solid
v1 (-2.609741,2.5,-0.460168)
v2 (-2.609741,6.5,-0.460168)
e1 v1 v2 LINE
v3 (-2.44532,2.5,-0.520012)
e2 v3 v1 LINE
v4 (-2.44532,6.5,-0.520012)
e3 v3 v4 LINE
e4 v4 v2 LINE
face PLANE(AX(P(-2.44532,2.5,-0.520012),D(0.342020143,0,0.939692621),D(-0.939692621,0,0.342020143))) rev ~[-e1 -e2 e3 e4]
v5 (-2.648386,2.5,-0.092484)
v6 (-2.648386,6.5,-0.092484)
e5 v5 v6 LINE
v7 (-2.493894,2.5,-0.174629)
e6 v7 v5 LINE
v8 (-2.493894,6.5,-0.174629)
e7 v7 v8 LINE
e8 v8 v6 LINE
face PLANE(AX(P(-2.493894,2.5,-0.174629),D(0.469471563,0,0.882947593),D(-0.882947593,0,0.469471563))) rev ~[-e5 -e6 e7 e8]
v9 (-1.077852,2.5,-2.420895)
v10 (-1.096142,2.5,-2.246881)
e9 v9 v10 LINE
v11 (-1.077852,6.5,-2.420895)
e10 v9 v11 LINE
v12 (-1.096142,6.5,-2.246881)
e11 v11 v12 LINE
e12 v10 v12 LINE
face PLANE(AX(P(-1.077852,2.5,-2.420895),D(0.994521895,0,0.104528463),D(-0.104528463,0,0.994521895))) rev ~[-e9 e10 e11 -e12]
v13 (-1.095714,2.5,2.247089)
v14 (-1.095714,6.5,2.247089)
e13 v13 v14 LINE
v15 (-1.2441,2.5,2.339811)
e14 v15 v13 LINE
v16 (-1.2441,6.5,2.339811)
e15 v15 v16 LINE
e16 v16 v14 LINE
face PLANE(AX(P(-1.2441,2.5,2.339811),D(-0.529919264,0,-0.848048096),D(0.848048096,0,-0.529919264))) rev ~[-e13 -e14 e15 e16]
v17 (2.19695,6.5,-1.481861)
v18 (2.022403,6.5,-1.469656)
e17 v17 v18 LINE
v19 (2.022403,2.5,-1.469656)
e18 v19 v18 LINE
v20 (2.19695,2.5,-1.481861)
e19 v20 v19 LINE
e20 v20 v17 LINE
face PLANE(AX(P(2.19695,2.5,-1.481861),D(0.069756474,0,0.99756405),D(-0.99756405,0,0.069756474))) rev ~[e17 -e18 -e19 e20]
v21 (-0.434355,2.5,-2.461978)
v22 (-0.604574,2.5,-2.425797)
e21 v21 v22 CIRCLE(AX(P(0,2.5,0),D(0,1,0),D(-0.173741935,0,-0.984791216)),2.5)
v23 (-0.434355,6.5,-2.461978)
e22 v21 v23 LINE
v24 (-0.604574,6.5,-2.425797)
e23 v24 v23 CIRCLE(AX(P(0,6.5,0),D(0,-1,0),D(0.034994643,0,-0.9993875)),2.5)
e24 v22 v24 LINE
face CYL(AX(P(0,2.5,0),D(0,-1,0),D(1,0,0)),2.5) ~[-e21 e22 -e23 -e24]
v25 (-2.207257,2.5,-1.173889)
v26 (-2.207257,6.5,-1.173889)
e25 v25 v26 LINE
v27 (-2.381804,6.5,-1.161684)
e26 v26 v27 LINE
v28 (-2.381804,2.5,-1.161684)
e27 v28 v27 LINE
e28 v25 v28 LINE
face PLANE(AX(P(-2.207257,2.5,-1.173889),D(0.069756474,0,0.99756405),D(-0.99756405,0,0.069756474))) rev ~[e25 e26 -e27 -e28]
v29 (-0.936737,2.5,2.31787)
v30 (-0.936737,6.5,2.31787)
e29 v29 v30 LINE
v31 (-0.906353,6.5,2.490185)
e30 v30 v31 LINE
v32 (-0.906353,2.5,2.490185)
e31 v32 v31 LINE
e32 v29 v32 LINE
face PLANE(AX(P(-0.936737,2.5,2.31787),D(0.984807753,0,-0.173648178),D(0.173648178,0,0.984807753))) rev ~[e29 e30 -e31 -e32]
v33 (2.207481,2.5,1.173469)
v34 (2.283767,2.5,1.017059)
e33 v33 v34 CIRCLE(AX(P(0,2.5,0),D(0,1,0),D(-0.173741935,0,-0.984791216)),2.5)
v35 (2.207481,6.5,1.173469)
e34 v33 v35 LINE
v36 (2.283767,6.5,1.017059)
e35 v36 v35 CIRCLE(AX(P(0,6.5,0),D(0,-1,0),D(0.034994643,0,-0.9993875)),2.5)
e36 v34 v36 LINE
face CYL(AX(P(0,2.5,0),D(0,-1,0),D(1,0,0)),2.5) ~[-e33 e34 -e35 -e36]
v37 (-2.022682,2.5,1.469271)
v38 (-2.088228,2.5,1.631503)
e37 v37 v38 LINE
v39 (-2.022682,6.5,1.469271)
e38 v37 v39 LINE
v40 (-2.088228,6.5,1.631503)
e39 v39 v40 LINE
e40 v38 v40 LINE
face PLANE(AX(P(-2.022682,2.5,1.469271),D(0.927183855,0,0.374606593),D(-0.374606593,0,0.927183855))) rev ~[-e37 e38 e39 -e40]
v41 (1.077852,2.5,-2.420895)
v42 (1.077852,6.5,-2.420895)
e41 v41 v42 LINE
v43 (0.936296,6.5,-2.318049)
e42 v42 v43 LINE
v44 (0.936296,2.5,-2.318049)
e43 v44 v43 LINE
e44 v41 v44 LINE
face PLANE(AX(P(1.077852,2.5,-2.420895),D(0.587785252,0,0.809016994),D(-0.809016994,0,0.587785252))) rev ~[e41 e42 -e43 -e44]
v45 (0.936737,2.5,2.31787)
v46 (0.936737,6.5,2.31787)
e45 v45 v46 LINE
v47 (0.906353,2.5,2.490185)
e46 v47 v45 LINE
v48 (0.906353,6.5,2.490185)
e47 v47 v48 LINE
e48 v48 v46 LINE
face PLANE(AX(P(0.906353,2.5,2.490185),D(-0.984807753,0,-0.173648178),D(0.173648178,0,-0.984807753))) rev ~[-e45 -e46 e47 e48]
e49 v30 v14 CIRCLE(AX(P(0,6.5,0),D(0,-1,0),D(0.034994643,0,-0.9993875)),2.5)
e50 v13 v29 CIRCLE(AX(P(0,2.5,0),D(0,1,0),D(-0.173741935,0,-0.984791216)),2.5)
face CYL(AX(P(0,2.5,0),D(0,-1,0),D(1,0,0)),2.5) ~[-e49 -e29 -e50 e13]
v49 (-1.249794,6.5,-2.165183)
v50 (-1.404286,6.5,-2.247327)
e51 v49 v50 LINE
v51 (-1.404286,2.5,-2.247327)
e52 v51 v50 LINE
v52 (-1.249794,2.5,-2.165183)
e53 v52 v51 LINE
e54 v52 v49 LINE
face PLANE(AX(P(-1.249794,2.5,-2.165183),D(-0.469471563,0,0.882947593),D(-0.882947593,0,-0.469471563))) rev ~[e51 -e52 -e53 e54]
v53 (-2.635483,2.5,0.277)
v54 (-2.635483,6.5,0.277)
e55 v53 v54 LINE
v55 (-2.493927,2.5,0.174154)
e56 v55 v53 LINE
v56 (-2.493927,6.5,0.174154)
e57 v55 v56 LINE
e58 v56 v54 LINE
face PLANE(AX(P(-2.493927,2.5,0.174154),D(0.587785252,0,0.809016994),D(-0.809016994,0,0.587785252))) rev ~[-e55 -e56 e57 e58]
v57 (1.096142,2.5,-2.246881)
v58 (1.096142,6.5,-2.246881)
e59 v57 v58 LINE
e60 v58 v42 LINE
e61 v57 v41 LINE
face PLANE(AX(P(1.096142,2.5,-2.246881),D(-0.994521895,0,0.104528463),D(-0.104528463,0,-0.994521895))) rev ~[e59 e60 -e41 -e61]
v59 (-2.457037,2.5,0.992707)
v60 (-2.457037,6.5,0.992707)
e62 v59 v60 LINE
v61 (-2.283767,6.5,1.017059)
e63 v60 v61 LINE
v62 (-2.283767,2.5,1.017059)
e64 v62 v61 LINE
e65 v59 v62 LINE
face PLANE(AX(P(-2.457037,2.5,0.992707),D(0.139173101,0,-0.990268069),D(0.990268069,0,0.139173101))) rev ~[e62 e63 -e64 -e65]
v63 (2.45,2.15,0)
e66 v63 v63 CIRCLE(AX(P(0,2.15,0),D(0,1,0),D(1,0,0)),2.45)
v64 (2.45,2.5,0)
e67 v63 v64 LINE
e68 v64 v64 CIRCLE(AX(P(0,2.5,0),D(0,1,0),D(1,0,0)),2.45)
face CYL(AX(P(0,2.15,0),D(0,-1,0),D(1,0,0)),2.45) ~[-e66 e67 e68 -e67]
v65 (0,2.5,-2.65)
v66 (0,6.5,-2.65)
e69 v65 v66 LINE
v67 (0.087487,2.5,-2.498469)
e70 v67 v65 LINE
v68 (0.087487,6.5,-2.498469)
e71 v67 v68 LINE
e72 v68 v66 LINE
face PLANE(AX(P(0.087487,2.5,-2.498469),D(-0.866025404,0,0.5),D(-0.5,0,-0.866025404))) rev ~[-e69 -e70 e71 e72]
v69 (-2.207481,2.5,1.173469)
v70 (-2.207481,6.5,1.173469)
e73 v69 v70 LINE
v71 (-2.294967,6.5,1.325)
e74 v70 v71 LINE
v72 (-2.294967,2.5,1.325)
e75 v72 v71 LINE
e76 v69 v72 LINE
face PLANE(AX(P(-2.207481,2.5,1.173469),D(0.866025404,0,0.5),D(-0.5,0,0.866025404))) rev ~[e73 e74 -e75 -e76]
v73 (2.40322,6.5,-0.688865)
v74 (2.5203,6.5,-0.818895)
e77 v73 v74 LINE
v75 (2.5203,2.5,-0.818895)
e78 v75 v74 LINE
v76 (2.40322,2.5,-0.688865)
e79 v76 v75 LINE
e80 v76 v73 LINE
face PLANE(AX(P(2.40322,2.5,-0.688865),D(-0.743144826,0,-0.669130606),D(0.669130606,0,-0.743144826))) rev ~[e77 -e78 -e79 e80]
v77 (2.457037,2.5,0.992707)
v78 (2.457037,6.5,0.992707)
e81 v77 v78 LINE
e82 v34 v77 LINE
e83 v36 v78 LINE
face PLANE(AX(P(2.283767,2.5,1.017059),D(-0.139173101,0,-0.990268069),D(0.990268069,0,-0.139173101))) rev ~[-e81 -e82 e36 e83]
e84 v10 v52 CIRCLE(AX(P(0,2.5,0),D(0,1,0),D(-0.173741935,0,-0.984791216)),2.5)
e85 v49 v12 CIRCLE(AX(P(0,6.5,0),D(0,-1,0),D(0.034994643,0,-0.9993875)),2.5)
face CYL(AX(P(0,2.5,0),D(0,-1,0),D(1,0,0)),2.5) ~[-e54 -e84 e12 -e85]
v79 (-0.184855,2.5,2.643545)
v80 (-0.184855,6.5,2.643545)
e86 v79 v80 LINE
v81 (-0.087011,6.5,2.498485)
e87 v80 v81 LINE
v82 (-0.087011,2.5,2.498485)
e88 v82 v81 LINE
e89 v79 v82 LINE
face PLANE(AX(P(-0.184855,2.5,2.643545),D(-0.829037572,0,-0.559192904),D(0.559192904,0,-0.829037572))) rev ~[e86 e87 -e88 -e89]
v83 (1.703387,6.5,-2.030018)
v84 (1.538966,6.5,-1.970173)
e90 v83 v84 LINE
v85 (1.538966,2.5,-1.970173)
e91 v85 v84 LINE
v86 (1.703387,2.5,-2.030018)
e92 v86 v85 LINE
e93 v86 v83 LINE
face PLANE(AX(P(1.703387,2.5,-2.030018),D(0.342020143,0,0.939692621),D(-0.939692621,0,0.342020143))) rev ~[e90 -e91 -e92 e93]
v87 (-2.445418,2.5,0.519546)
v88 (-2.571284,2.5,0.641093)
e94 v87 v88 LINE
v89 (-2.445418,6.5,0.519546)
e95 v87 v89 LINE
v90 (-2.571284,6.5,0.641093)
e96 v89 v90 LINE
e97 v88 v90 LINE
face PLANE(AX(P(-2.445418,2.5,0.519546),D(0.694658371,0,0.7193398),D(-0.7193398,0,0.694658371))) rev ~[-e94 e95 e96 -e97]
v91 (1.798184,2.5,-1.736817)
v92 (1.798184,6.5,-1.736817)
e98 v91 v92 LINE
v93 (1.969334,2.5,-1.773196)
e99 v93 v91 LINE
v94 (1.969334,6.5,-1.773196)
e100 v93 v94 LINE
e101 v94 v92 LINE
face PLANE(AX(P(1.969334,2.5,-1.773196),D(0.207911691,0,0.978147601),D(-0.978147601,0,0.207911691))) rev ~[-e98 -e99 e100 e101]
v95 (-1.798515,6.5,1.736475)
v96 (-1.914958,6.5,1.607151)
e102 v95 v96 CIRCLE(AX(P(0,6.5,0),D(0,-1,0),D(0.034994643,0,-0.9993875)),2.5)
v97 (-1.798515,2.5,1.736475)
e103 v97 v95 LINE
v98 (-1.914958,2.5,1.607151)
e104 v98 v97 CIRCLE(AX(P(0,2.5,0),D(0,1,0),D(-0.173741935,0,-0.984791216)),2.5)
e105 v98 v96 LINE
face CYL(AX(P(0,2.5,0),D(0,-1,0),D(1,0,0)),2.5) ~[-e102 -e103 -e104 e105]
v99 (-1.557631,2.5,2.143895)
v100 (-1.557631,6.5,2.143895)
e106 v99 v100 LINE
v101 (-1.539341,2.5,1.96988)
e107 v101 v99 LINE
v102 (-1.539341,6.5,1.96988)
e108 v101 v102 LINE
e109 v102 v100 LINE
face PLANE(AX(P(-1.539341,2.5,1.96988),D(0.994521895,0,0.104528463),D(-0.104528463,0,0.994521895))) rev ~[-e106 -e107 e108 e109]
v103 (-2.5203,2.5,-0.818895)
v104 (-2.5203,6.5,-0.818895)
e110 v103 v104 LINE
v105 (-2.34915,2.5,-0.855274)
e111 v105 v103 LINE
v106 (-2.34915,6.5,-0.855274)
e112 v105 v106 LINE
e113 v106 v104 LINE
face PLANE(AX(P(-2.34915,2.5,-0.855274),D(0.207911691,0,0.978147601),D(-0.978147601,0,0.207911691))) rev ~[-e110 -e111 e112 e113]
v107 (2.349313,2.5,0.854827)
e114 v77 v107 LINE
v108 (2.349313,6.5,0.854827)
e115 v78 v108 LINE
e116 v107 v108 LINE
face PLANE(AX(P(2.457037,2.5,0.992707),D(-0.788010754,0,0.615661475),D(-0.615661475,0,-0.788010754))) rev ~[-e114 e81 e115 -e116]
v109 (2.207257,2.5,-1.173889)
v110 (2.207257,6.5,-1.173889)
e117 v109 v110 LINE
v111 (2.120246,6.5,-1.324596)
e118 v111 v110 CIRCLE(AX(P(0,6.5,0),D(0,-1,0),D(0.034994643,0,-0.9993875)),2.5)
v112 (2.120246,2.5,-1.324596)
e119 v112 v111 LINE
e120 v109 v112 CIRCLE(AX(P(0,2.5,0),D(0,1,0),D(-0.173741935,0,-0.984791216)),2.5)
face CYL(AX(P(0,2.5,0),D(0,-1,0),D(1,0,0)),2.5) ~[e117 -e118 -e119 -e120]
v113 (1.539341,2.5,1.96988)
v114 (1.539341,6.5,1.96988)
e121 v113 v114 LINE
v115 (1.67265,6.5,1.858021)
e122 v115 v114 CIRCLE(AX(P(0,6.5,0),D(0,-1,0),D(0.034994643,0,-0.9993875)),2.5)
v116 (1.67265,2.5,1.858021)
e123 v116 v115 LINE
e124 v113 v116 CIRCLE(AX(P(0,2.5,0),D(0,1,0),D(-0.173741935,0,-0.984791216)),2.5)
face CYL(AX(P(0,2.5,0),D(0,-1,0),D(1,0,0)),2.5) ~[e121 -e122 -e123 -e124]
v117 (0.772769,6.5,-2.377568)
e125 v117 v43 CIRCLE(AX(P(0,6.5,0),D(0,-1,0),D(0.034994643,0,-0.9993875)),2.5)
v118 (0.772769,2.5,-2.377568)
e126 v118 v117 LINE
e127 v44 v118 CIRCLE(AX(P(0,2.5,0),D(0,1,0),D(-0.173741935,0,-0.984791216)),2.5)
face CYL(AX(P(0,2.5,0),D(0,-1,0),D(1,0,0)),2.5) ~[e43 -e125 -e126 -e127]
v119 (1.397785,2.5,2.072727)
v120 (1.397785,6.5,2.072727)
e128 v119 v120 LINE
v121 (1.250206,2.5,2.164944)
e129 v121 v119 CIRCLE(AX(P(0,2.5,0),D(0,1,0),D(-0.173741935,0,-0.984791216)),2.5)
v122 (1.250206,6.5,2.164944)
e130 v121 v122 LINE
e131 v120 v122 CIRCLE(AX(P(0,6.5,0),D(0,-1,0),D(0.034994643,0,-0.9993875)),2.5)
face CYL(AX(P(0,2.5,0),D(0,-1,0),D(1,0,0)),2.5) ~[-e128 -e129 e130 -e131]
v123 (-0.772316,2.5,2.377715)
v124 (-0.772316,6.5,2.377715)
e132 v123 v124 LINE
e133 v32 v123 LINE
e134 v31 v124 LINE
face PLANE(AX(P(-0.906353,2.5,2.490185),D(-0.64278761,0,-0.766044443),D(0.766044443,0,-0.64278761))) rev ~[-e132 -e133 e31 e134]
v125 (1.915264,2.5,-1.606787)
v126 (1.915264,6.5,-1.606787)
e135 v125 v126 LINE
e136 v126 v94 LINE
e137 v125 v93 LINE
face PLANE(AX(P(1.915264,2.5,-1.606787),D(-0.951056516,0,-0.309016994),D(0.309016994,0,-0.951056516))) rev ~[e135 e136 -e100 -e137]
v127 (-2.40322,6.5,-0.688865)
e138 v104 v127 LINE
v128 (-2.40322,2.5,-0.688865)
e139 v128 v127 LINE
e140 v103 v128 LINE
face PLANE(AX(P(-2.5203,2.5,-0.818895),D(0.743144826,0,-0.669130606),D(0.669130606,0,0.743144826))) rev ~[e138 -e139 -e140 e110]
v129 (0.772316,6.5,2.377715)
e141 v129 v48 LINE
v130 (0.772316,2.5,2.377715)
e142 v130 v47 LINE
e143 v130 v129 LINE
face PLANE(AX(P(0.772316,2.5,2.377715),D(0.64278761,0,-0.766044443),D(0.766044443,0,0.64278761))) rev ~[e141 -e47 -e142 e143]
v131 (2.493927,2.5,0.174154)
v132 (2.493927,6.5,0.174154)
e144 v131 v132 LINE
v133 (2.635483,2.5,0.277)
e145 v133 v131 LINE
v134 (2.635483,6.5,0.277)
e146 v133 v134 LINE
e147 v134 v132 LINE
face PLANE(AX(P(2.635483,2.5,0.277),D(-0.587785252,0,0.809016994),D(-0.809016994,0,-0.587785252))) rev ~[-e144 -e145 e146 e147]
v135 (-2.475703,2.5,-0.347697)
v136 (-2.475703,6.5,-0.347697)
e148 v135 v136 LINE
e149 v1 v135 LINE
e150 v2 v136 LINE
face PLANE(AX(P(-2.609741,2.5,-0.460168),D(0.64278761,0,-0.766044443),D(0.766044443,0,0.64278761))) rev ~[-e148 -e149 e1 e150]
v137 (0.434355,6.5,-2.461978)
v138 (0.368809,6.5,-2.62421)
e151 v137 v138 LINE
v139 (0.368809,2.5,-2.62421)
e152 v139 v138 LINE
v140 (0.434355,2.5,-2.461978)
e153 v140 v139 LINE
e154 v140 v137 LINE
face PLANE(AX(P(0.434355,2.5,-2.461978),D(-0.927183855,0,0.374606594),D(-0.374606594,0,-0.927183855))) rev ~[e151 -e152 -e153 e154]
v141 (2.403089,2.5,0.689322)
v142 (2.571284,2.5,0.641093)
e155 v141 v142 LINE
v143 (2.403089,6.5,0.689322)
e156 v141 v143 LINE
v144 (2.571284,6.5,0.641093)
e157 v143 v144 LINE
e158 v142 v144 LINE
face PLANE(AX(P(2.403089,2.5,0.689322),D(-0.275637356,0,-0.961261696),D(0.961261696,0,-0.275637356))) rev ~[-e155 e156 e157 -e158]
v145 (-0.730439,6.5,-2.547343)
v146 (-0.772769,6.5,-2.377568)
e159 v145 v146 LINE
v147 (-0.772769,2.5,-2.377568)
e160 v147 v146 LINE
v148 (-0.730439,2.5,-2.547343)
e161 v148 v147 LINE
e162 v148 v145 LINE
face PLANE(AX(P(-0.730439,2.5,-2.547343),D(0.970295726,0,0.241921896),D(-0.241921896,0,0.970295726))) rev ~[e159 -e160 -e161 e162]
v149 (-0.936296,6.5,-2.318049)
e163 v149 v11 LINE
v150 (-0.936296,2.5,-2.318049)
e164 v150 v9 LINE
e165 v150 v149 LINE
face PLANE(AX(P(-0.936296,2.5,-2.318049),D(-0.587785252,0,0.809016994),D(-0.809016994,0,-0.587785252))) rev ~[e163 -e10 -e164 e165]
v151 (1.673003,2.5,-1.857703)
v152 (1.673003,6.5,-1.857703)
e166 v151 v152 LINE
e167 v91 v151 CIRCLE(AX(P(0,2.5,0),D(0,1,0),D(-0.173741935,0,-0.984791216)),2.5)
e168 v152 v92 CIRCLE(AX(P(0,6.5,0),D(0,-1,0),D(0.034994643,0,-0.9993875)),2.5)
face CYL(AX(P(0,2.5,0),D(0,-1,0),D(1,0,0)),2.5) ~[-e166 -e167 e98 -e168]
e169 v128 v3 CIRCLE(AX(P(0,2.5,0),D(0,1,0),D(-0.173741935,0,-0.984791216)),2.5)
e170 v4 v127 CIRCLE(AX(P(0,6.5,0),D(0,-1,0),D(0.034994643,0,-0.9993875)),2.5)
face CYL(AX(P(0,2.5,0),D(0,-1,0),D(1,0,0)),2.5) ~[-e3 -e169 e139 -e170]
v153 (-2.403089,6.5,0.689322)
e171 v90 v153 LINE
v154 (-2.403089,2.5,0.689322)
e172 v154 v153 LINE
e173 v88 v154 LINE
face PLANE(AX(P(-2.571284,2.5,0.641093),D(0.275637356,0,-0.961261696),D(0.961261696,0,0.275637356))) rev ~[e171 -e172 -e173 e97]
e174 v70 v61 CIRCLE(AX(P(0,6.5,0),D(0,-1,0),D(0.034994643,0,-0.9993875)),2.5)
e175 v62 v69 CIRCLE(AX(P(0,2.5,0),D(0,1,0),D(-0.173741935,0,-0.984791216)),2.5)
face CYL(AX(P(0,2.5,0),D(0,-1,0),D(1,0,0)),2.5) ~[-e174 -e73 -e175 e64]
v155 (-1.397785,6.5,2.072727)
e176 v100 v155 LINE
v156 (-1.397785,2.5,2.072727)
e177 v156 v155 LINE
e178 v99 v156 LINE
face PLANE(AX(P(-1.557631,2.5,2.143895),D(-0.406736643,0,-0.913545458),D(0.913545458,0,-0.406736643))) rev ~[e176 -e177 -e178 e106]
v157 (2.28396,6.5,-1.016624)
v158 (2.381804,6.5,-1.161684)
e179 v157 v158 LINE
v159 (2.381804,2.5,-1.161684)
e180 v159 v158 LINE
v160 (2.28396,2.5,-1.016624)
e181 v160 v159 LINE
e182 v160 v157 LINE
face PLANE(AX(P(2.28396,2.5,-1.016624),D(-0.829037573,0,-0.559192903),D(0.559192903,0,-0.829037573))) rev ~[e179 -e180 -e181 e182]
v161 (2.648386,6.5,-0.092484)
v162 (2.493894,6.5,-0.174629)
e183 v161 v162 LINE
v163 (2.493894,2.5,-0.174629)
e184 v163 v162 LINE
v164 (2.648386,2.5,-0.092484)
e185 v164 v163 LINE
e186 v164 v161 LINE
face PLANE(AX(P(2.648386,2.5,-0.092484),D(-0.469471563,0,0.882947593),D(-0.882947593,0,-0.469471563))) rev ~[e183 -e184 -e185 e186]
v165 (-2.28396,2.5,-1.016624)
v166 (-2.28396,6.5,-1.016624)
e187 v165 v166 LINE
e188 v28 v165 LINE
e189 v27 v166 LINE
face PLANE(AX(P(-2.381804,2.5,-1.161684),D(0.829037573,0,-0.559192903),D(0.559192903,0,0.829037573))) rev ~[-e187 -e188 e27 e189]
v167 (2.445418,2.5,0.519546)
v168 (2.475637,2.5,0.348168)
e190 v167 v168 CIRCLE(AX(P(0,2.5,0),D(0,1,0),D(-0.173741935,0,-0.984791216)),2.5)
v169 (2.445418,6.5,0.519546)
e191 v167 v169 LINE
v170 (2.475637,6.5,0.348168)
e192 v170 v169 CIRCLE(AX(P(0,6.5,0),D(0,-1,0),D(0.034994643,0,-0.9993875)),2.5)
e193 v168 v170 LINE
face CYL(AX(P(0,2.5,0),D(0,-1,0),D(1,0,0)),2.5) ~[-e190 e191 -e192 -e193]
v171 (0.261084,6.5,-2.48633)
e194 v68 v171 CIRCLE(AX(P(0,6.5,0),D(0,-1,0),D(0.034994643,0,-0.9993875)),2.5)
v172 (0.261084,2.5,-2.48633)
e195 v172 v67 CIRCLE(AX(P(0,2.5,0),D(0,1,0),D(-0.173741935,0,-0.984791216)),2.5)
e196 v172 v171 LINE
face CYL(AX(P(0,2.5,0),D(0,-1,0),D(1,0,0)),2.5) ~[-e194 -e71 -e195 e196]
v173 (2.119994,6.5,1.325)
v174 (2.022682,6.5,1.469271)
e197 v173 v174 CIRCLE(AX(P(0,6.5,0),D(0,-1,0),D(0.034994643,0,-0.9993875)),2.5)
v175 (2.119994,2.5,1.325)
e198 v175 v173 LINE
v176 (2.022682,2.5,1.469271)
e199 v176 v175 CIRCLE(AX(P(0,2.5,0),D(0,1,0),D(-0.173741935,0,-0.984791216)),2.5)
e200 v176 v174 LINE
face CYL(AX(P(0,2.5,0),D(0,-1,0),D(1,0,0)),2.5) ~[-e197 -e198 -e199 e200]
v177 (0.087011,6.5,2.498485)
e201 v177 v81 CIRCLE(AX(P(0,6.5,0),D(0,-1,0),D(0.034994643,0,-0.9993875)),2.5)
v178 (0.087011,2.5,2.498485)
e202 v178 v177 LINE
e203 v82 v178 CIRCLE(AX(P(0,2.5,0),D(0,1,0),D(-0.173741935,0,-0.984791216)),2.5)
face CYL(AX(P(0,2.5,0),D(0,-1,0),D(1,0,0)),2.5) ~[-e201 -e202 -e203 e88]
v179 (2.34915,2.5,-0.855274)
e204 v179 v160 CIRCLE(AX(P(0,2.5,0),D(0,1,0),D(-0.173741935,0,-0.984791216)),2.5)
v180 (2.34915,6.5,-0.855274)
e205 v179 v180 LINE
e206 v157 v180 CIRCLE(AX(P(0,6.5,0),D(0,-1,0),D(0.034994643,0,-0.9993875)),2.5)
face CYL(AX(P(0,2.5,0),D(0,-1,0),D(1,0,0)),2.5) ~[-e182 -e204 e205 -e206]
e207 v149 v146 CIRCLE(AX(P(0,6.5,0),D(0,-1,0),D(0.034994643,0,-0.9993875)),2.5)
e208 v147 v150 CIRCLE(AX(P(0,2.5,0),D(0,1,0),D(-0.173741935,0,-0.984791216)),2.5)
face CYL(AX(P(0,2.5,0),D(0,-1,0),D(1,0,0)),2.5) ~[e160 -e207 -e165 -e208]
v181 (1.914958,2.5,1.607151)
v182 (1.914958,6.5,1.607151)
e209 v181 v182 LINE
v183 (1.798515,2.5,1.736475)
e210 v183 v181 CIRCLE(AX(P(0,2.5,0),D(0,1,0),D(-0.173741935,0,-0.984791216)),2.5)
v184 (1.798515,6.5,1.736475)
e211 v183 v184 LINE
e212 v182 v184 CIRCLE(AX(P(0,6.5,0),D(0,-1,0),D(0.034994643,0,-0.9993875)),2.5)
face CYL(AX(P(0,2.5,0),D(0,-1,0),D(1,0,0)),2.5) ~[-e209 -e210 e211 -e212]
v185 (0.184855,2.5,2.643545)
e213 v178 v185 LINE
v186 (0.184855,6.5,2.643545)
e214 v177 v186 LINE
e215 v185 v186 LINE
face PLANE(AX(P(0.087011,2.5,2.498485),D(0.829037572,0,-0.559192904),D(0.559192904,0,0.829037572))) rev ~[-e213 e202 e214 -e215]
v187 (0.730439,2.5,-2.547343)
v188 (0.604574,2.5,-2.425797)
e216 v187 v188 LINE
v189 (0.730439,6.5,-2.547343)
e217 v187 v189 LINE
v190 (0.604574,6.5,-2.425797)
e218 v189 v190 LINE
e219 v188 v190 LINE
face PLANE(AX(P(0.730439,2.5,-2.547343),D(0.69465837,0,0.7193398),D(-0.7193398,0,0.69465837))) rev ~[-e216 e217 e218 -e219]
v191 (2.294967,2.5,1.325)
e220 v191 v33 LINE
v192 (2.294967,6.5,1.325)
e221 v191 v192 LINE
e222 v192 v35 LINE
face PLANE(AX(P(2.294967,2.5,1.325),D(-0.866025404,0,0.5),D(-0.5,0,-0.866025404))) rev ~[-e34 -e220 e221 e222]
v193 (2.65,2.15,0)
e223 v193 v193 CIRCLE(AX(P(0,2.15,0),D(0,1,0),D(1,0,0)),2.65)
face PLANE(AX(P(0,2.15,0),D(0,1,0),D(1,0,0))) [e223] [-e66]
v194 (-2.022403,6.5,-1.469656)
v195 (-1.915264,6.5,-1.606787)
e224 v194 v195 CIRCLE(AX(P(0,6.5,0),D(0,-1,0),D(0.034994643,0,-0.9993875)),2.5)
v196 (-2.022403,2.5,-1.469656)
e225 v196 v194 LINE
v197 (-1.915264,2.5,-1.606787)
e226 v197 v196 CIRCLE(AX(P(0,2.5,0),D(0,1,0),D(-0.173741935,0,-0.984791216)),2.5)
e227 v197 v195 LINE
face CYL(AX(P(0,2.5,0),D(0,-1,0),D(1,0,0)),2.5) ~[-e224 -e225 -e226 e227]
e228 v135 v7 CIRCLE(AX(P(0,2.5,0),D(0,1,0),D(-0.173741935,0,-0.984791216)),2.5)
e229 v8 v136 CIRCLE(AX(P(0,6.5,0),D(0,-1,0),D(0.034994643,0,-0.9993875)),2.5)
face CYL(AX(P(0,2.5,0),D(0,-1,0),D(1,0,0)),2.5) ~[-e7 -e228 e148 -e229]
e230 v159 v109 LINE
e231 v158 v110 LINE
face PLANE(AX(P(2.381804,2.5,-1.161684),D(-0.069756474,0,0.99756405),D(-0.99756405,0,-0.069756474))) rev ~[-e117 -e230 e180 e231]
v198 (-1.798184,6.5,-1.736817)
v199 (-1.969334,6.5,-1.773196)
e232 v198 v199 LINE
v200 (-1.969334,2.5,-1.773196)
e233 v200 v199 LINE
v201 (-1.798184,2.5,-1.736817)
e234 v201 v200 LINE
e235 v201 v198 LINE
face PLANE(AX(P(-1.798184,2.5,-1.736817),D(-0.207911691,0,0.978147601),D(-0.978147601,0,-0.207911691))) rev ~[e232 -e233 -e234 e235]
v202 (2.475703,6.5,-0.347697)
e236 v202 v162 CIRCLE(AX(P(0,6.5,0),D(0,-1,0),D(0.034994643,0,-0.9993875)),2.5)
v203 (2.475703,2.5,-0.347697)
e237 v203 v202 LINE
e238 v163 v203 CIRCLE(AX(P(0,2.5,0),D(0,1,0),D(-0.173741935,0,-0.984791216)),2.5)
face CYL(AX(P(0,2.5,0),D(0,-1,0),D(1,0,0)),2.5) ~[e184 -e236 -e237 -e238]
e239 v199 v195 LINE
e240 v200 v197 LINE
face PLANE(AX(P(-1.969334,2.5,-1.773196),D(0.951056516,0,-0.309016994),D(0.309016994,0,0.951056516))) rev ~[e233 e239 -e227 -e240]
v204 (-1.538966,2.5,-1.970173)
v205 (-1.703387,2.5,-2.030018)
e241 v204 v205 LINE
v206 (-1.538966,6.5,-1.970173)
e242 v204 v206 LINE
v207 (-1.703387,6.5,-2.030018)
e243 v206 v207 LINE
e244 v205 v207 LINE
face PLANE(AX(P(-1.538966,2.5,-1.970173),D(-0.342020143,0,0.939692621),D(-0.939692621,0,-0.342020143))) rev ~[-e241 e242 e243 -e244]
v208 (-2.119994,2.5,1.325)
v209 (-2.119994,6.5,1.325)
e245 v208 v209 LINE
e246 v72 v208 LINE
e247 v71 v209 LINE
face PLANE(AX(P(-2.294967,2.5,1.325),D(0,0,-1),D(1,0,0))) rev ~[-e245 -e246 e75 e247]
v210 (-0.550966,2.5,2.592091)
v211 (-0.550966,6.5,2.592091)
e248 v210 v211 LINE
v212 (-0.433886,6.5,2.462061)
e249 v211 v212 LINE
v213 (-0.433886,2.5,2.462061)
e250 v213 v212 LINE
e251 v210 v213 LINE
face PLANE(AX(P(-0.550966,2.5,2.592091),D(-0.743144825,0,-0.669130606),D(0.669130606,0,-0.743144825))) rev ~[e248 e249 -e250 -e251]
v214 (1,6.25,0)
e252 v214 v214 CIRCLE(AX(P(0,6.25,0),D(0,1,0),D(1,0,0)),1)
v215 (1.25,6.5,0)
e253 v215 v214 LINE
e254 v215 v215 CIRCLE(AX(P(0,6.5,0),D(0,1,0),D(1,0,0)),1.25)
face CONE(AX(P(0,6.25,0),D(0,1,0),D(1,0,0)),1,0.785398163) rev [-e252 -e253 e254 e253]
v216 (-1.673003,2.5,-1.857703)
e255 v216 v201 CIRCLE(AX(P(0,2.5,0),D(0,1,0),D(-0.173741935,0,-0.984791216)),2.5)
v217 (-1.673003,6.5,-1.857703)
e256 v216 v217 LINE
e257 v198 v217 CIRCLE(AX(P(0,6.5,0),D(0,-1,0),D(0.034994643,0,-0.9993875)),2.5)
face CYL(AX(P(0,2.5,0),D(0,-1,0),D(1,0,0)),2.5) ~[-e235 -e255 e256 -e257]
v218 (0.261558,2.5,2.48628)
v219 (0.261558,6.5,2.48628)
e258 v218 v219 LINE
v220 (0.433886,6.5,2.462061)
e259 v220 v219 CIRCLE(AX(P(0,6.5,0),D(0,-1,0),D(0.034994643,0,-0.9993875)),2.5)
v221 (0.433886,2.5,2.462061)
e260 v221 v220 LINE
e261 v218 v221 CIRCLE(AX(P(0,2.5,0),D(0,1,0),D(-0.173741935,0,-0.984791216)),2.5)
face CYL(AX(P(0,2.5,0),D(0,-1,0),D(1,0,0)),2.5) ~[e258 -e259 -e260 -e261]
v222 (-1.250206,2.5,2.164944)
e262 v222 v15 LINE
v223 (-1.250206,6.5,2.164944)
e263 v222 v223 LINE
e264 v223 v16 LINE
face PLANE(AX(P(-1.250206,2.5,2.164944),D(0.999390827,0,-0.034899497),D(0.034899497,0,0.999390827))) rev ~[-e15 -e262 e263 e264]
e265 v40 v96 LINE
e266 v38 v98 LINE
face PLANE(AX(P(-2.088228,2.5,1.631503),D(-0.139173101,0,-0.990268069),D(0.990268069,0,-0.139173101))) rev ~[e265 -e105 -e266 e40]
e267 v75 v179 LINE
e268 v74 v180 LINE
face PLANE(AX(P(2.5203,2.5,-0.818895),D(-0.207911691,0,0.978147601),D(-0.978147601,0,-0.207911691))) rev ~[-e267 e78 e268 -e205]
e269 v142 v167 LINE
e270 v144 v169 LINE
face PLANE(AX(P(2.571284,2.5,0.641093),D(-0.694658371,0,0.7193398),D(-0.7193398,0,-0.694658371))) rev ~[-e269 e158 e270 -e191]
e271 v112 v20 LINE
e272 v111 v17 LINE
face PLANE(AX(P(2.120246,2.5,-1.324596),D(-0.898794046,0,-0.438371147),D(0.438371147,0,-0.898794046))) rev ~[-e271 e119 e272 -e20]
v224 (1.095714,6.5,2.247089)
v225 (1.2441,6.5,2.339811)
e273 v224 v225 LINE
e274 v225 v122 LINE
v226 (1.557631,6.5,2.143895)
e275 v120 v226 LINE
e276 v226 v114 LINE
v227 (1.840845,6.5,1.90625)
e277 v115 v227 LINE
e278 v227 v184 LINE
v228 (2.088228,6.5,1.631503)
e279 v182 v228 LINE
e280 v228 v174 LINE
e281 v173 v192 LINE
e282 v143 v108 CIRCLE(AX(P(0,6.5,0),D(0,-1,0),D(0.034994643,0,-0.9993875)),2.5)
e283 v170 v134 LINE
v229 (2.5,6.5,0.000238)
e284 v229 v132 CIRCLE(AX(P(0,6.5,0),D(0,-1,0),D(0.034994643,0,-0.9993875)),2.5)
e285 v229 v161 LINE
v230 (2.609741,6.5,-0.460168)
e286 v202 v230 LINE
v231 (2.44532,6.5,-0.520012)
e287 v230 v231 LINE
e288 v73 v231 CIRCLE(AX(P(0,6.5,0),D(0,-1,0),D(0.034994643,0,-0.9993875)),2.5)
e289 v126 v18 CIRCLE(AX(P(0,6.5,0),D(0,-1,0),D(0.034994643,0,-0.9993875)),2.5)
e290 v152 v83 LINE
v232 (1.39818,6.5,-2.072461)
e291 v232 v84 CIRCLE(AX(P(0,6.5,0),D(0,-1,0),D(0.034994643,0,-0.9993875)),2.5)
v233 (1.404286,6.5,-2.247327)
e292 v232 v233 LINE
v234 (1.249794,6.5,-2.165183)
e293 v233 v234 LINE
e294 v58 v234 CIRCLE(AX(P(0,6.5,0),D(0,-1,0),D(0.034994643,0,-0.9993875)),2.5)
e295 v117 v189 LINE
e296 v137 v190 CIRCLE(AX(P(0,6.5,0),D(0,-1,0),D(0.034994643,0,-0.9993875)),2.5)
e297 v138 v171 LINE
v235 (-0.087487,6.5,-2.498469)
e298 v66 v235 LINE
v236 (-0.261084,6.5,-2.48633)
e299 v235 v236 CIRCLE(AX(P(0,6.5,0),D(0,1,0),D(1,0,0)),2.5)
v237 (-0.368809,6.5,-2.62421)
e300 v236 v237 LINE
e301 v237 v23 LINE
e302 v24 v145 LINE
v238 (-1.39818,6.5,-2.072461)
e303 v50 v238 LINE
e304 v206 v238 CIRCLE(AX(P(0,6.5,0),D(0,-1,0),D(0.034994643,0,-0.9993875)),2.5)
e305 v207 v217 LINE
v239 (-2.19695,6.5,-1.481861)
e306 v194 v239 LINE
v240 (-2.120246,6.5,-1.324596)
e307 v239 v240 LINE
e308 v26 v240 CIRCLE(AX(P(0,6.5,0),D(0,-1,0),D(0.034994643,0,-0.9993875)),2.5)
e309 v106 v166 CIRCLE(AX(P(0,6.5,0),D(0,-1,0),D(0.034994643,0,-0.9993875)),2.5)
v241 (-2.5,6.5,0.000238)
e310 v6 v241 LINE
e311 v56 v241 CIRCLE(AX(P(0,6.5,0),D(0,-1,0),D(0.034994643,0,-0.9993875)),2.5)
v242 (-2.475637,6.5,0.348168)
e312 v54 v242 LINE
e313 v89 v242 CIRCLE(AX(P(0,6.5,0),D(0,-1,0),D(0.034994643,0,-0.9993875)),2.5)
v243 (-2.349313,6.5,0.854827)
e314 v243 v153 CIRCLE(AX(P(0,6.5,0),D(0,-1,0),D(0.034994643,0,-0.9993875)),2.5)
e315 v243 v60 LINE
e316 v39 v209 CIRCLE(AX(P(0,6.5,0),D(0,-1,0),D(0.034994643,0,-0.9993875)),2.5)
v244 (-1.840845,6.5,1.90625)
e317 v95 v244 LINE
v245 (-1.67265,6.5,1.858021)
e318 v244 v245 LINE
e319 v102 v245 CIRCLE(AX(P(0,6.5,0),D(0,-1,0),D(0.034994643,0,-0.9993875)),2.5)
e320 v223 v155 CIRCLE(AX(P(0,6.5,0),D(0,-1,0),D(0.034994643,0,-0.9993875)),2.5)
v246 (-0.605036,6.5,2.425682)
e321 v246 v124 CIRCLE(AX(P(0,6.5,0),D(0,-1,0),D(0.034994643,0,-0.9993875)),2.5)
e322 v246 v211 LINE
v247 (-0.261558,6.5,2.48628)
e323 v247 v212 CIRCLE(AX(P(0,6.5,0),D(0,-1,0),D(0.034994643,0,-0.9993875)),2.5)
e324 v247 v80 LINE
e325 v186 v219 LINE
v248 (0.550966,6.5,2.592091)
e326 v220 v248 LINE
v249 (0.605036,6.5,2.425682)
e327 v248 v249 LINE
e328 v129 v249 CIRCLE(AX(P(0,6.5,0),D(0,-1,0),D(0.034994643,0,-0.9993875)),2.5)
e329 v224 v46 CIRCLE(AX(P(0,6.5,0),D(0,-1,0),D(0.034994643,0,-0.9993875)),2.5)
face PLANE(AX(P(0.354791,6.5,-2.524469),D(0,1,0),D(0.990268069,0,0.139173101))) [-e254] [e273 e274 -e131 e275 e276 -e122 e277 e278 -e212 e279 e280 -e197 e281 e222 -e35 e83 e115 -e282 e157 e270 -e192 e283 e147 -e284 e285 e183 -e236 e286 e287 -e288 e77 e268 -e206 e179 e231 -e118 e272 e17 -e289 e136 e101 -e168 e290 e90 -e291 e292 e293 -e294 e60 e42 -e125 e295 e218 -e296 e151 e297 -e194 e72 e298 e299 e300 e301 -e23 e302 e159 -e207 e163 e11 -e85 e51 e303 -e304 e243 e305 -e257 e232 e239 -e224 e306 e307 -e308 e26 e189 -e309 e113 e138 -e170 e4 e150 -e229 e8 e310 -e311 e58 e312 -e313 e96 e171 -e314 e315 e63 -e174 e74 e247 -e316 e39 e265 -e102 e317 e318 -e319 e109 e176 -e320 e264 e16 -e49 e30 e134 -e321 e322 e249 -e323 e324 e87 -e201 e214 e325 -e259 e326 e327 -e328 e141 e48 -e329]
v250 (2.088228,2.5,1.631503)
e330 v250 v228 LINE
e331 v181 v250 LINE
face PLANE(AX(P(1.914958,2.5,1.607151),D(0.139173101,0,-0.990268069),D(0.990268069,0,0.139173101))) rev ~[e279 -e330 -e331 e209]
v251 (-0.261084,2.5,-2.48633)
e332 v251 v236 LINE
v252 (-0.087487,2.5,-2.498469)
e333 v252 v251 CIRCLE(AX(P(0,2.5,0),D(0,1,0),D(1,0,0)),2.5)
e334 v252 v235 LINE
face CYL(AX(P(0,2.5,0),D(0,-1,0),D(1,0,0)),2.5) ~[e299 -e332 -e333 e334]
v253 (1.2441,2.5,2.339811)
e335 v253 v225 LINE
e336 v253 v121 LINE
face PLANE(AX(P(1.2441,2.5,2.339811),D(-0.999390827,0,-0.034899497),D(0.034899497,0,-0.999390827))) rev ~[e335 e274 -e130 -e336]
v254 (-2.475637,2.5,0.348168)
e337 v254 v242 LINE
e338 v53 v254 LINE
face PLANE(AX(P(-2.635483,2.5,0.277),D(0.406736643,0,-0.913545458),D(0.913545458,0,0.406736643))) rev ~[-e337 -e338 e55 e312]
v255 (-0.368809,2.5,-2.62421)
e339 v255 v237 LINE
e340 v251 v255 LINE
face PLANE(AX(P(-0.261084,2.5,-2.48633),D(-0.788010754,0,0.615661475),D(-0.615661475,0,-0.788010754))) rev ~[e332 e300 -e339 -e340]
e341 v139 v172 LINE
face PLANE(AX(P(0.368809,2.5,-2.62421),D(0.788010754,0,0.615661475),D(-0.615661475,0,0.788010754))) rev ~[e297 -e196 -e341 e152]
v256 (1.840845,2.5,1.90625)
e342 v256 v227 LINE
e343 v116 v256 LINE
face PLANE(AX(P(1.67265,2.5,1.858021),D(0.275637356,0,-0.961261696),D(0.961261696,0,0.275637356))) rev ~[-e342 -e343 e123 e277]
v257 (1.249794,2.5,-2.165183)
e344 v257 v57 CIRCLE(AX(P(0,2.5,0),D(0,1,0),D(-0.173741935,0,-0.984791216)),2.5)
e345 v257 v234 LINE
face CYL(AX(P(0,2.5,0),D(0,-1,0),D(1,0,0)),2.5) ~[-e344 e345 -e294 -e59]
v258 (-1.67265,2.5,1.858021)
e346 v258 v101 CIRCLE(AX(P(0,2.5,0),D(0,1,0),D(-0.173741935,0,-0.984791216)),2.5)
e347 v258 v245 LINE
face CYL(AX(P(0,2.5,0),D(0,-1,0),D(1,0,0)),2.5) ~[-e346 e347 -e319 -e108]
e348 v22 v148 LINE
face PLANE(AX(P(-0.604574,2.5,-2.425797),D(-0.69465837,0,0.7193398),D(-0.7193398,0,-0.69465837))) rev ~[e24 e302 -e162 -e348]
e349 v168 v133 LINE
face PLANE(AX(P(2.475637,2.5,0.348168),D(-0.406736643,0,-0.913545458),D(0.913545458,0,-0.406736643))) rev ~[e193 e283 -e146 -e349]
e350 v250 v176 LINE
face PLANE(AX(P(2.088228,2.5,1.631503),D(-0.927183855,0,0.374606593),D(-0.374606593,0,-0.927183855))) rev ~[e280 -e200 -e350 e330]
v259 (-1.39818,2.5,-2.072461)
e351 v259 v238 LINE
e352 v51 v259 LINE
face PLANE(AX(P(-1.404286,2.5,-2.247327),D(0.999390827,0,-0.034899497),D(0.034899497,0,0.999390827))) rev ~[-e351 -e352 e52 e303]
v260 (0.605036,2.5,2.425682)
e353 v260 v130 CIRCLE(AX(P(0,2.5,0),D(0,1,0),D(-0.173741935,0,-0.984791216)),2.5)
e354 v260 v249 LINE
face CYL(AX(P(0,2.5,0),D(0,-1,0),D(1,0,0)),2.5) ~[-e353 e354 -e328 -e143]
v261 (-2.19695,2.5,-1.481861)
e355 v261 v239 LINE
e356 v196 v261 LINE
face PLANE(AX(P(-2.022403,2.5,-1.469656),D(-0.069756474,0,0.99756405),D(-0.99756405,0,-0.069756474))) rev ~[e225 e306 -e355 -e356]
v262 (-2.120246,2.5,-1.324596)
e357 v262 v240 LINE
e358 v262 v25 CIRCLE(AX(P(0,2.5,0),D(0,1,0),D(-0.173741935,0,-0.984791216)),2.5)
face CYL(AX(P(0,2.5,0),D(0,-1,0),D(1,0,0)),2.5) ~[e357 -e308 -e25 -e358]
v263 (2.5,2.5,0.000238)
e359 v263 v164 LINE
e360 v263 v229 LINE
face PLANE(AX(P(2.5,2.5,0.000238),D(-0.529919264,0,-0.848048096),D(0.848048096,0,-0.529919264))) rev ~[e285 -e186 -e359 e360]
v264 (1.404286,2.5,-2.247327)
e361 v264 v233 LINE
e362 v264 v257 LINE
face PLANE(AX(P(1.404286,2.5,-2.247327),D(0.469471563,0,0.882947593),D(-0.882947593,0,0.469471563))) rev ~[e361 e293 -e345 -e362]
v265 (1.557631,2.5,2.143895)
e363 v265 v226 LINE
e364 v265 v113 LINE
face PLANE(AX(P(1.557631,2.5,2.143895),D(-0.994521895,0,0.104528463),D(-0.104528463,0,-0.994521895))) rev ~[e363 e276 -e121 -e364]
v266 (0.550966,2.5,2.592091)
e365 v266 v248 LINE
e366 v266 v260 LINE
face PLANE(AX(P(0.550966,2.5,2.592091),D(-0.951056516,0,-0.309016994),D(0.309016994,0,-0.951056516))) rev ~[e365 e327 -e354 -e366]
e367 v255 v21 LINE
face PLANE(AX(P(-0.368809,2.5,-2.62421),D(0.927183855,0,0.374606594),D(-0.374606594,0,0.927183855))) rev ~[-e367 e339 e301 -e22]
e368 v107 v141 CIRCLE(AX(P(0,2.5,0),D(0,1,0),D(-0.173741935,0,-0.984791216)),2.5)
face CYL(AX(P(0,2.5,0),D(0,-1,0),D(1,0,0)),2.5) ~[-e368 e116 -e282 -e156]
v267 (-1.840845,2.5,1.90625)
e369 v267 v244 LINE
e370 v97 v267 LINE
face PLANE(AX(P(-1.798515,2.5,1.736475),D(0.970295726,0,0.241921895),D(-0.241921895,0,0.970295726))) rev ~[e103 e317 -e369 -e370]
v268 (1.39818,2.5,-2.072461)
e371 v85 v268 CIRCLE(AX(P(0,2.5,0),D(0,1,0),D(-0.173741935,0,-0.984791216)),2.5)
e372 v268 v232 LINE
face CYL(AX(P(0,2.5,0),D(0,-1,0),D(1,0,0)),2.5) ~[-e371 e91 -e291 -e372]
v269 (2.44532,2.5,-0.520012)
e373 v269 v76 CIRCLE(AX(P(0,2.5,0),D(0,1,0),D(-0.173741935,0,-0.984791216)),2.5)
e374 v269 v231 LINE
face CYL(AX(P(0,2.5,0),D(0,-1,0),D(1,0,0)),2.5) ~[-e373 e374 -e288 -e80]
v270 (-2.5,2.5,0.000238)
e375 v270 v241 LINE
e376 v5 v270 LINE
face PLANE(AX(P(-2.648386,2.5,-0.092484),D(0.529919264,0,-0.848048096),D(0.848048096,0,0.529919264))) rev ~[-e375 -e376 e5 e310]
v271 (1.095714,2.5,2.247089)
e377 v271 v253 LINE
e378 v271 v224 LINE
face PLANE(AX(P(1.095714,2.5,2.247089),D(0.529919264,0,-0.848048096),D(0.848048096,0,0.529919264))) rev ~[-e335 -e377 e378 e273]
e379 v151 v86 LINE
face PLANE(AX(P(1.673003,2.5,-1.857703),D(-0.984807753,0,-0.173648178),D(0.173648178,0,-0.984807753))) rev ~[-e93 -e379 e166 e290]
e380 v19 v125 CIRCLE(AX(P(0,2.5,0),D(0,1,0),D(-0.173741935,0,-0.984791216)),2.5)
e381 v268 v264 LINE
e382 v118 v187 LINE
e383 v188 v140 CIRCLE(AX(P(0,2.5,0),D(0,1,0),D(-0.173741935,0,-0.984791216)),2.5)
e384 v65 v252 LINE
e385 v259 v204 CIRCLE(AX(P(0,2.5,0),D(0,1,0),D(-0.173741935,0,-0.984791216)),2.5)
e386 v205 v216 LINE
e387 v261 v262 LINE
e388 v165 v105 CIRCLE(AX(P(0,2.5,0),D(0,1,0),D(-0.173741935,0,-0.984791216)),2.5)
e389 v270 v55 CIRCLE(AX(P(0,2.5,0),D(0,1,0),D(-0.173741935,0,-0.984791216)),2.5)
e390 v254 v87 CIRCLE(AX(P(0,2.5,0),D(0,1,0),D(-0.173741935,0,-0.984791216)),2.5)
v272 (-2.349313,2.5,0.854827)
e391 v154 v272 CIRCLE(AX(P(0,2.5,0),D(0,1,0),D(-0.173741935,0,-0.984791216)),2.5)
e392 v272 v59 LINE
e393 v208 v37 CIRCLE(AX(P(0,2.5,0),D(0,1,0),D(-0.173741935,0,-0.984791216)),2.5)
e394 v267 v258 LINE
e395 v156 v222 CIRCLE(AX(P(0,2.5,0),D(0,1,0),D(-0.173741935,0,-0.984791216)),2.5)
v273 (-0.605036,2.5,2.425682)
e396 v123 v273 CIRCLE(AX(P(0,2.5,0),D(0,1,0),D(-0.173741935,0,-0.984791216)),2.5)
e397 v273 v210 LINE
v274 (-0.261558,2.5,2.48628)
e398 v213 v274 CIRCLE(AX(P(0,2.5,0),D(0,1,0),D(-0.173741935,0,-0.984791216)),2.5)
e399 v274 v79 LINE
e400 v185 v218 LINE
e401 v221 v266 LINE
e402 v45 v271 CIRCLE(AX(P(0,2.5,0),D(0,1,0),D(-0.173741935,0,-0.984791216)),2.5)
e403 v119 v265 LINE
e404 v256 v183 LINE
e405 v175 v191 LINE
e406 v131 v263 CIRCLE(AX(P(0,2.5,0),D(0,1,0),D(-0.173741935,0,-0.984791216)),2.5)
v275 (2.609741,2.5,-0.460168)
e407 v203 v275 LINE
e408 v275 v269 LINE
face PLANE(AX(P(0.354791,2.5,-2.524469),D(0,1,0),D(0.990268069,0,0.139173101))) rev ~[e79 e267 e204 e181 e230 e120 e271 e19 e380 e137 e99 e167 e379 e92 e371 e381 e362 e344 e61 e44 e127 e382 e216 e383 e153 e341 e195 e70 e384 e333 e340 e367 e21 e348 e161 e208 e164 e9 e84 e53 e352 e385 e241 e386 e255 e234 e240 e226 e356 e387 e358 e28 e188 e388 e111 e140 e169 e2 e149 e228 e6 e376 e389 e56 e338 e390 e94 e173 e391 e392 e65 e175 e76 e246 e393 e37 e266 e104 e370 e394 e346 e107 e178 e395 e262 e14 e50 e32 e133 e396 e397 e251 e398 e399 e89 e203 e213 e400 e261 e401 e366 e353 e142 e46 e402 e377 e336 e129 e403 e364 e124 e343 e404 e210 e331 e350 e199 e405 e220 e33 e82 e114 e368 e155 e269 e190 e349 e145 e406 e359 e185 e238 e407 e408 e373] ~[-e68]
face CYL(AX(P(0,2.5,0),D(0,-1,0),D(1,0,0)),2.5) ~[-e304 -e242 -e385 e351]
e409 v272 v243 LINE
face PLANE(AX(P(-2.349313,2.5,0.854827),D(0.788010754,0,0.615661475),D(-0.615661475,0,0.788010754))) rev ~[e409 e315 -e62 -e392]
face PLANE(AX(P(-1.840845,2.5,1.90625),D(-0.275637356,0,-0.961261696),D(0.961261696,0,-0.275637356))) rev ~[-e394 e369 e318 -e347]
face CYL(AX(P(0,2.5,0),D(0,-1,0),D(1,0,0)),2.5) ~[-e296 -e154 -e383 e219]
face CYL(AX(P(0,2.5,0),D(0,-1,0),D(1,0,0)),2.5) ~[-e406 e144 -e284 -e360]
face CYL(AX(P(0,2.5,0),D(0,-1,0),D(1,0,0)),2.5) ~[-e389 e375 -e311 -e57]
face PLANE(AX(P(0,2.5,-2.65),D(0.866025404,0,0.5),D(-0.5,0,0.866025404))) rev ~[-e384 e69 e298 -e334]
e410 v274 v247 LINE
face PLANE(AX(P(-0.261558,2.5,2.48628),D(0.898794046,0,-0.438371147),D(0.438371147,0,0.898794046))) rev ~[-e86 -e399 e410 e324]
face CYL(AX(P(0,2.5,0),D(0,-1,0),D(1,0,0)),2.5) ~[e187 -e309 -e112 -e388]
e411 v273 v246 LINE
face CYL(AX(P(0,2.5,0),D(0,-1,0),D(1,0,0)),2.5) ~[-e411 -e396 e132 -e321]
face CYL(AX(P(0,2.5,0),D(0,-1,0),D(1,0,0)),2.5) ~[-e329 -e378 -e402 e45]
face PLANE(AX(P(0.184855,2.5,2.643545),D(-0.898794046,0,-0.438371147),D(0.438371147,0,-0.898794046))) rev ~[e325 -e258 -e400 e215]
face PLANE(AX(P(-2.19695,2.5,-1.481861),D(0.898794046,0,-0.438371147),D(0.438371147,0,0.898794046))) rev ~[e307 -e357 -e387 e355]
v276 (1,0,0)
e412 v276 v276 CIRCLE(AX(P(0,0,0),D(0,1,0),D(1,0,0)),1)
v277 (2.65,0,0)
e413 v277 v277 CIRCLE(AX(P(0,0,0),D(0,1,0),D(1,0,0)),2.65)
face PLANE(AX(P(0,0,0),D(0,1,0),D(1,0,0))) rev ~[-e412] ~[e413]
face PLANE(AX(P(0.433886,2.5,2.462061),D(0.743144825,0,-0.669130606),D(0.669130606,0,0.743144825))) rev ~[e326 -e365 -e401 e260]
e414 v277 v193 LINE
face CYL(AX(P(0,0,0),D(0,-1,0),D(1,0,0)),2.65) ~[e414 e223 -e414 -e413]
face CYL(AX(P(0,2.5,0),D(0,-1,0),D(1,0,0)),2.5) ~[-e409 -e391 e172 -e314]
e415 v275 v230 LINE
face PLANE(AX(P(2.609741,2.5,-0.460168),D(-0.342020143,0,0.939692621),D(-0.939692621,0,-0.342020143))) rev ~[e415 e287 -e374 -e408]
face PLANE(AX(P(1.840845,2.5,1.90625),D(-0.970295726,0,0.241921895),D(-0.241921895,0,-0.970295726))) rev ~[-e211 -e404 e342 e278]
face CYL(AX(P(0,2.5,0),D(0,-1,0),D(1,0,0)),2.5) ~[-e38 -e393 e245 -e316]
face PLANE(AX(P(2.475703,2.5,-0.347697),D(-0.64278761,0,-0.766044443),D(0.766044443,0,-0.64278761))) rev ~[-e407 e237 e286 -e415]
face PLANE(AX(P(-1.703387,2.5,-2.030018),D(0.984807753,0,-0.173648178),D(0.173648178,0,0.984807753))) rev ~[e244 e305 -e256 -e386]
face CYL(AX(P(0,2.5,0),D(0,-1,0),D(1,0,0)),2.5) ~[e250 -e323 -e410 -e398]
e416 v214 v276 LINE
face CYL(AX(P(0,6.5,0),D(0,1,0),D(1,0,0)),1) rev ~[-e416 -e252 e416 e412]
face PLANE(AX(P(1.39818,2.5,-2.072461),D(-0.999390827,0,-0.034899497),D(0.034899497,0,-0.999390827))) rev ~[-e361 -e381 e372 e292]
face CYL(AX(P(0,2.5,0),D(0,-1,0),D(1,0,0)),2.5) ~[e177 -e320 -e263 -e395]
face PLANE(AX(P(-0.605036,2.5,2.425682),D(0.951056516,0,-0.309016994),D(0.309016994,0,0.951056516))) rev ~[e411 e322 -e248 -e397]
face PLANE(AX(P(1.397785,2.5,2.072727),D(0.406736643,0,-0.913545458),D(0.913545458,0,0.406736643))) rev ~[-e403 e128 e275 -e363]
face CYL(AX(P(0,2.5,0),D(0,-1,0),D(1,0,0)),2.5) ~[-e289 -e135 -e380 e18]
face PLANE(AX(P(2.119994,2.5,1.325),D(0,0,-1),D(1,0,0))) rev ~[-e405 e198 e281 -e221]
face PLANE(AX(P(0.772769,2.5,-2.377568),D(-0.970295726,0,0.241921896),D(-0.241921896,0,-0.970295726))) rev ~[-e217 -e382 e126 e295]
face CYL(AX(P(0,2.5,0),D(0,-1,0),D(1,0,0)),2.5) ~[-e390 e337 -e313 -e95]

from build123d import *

# Parameters (mm, degrees)
SCHIZZO1_R                   = 2.65
ESTRUSIONE_ESTRUSIONE1_DEPTH = 2.15
SCHIZZO2_R                   = 2.55
ESTRUSIONE_ESTRUSIONE2_DEPTH = 0.35
ESTRUSIONE_ESTRUSIONE3_DEPTH = 4
SCHIZZO4_R                   = 2.5
ESTRUSIONE_ESTRUSIONE4_DEPTH = 4
RIPETIZIONECIRCOLARE1_COUNT  = 45
SCHIZZO5_R                   = 1
TAGLIO_ESTRUSIONE1_DEPTH     = 7.5
SMUSSO1_SIZE                 = 0.25
SCHIZZO6_R                   = 2.75
SCHIZZO6_R_2                 = 2.45
TAGLIO_ESTRUSIONE2_DEPTH     = 0.35


with BuildPart() as part:
    # Schizzo1 → Estrusione-Estrusione1 (new body)
    with BuildSketch(Plane(origin=(0, 0, 0), x_dir=(1, 0, 0), z_dir=(0, 1, 0))):
        Circle(SCHIZZO1_R)
    extrude(amount=ESTRUSIONE_ESTRUSIONE1_DEPTH)

    # Schizzo2 → Estrusione-Estrusione2 (add)
    with BuildSketch(Plane(origin=(0, 2.15, 0), x_dir=(1, 0, 0), z_dir=(0, 1, 0))):
        Circle(SCHIZZO2_R)
    extrude(amount=ESTRUSIONE_ESTRUSIONE2_DEPTH)

    # Schizzo3 → Estrusione-Estrusione3 (add)
    with BuildSketch(Plane(origin=(0, 2.5, 0), x_dir=(1, 0, 0), z_dir=(0, 1, 0))):
        with BuildLine():
            Line((0, 2.65), (-0.087486608, 2.49846875))
            ThreePointArc((-0.087486608, 2.49846875), (0, 2.5), (0.087486608, 2.49846875))
            Line((0.087486608, 2.49846875), (0, 2.65))
        make_face()
    estrusione_estrusione3 = extrude(amount=ESTRUSIONE_ESTRUSIONE3_DEPTH)

    # Schizzo4 → Estrusione-Estrusione4 (add)
    with BuildSketch(Plane(origin=(0, 2.5, 0), x_dir=(1, 0, 0), z_dir=(0, 1, 0))):
        Circle(SCHIZZO4_R)
    extrude(amount=ESTRUSIONE_ESTRUSIONE4_DEPTH)

    # RipetizioneCircolare1: Estrusione-Estrusione3 ×45 about axis
    ripetizionecircolare1_axis = Axis((0, 0, 0), (0, 1, 0))
    for i in range(1, RIPETIZIONECIRCOLARE1_COUNT):
        add(estrusione_estrusione3.rotate(ripetizionecircolare1_axis, i * 360 / RIPETIZIONECIRCOLARE1_COUNT))

    # Schizzo5 → Taglio-Estrusione1 (cut, through all)
    with BuildSketch(Plane(origin=(0, 6.5, 0), x_dir=(1, 0, 0), z_dir=(0, 1, 0))):
        Circle(SCHIZZO5_R)
    extrude(amount=-TAGLIO_ESTRUSIONE1_DEPTH, mode=Mode.SUBTRACT)

    # Smusso1
    smusso1_edges = [part.edges().sort_by_distance(p)[0] for p in [
        (-1, 6.5, 0),
    ]]
    chamfer(smusso1_edges, length=SMUSSO1_SIZE)

    # Schizzo6 → Taglio-Estrusione2 (cut)
    with BuildSketch(Plane(origin=(0, 2.15, 0), x_dir=(1, 0, 0), z_dir=(0, 1, 0))):
        Circle(SCHIZZO6_R)
        Circle(SCHIZZO6_R_2, mode=Mode.SUBTRACT)
    extrude(amount=TAGLIO_ESTRUSIONE2_DEPTH, mode=Mode.SUBTRACT)


solid = part.part
